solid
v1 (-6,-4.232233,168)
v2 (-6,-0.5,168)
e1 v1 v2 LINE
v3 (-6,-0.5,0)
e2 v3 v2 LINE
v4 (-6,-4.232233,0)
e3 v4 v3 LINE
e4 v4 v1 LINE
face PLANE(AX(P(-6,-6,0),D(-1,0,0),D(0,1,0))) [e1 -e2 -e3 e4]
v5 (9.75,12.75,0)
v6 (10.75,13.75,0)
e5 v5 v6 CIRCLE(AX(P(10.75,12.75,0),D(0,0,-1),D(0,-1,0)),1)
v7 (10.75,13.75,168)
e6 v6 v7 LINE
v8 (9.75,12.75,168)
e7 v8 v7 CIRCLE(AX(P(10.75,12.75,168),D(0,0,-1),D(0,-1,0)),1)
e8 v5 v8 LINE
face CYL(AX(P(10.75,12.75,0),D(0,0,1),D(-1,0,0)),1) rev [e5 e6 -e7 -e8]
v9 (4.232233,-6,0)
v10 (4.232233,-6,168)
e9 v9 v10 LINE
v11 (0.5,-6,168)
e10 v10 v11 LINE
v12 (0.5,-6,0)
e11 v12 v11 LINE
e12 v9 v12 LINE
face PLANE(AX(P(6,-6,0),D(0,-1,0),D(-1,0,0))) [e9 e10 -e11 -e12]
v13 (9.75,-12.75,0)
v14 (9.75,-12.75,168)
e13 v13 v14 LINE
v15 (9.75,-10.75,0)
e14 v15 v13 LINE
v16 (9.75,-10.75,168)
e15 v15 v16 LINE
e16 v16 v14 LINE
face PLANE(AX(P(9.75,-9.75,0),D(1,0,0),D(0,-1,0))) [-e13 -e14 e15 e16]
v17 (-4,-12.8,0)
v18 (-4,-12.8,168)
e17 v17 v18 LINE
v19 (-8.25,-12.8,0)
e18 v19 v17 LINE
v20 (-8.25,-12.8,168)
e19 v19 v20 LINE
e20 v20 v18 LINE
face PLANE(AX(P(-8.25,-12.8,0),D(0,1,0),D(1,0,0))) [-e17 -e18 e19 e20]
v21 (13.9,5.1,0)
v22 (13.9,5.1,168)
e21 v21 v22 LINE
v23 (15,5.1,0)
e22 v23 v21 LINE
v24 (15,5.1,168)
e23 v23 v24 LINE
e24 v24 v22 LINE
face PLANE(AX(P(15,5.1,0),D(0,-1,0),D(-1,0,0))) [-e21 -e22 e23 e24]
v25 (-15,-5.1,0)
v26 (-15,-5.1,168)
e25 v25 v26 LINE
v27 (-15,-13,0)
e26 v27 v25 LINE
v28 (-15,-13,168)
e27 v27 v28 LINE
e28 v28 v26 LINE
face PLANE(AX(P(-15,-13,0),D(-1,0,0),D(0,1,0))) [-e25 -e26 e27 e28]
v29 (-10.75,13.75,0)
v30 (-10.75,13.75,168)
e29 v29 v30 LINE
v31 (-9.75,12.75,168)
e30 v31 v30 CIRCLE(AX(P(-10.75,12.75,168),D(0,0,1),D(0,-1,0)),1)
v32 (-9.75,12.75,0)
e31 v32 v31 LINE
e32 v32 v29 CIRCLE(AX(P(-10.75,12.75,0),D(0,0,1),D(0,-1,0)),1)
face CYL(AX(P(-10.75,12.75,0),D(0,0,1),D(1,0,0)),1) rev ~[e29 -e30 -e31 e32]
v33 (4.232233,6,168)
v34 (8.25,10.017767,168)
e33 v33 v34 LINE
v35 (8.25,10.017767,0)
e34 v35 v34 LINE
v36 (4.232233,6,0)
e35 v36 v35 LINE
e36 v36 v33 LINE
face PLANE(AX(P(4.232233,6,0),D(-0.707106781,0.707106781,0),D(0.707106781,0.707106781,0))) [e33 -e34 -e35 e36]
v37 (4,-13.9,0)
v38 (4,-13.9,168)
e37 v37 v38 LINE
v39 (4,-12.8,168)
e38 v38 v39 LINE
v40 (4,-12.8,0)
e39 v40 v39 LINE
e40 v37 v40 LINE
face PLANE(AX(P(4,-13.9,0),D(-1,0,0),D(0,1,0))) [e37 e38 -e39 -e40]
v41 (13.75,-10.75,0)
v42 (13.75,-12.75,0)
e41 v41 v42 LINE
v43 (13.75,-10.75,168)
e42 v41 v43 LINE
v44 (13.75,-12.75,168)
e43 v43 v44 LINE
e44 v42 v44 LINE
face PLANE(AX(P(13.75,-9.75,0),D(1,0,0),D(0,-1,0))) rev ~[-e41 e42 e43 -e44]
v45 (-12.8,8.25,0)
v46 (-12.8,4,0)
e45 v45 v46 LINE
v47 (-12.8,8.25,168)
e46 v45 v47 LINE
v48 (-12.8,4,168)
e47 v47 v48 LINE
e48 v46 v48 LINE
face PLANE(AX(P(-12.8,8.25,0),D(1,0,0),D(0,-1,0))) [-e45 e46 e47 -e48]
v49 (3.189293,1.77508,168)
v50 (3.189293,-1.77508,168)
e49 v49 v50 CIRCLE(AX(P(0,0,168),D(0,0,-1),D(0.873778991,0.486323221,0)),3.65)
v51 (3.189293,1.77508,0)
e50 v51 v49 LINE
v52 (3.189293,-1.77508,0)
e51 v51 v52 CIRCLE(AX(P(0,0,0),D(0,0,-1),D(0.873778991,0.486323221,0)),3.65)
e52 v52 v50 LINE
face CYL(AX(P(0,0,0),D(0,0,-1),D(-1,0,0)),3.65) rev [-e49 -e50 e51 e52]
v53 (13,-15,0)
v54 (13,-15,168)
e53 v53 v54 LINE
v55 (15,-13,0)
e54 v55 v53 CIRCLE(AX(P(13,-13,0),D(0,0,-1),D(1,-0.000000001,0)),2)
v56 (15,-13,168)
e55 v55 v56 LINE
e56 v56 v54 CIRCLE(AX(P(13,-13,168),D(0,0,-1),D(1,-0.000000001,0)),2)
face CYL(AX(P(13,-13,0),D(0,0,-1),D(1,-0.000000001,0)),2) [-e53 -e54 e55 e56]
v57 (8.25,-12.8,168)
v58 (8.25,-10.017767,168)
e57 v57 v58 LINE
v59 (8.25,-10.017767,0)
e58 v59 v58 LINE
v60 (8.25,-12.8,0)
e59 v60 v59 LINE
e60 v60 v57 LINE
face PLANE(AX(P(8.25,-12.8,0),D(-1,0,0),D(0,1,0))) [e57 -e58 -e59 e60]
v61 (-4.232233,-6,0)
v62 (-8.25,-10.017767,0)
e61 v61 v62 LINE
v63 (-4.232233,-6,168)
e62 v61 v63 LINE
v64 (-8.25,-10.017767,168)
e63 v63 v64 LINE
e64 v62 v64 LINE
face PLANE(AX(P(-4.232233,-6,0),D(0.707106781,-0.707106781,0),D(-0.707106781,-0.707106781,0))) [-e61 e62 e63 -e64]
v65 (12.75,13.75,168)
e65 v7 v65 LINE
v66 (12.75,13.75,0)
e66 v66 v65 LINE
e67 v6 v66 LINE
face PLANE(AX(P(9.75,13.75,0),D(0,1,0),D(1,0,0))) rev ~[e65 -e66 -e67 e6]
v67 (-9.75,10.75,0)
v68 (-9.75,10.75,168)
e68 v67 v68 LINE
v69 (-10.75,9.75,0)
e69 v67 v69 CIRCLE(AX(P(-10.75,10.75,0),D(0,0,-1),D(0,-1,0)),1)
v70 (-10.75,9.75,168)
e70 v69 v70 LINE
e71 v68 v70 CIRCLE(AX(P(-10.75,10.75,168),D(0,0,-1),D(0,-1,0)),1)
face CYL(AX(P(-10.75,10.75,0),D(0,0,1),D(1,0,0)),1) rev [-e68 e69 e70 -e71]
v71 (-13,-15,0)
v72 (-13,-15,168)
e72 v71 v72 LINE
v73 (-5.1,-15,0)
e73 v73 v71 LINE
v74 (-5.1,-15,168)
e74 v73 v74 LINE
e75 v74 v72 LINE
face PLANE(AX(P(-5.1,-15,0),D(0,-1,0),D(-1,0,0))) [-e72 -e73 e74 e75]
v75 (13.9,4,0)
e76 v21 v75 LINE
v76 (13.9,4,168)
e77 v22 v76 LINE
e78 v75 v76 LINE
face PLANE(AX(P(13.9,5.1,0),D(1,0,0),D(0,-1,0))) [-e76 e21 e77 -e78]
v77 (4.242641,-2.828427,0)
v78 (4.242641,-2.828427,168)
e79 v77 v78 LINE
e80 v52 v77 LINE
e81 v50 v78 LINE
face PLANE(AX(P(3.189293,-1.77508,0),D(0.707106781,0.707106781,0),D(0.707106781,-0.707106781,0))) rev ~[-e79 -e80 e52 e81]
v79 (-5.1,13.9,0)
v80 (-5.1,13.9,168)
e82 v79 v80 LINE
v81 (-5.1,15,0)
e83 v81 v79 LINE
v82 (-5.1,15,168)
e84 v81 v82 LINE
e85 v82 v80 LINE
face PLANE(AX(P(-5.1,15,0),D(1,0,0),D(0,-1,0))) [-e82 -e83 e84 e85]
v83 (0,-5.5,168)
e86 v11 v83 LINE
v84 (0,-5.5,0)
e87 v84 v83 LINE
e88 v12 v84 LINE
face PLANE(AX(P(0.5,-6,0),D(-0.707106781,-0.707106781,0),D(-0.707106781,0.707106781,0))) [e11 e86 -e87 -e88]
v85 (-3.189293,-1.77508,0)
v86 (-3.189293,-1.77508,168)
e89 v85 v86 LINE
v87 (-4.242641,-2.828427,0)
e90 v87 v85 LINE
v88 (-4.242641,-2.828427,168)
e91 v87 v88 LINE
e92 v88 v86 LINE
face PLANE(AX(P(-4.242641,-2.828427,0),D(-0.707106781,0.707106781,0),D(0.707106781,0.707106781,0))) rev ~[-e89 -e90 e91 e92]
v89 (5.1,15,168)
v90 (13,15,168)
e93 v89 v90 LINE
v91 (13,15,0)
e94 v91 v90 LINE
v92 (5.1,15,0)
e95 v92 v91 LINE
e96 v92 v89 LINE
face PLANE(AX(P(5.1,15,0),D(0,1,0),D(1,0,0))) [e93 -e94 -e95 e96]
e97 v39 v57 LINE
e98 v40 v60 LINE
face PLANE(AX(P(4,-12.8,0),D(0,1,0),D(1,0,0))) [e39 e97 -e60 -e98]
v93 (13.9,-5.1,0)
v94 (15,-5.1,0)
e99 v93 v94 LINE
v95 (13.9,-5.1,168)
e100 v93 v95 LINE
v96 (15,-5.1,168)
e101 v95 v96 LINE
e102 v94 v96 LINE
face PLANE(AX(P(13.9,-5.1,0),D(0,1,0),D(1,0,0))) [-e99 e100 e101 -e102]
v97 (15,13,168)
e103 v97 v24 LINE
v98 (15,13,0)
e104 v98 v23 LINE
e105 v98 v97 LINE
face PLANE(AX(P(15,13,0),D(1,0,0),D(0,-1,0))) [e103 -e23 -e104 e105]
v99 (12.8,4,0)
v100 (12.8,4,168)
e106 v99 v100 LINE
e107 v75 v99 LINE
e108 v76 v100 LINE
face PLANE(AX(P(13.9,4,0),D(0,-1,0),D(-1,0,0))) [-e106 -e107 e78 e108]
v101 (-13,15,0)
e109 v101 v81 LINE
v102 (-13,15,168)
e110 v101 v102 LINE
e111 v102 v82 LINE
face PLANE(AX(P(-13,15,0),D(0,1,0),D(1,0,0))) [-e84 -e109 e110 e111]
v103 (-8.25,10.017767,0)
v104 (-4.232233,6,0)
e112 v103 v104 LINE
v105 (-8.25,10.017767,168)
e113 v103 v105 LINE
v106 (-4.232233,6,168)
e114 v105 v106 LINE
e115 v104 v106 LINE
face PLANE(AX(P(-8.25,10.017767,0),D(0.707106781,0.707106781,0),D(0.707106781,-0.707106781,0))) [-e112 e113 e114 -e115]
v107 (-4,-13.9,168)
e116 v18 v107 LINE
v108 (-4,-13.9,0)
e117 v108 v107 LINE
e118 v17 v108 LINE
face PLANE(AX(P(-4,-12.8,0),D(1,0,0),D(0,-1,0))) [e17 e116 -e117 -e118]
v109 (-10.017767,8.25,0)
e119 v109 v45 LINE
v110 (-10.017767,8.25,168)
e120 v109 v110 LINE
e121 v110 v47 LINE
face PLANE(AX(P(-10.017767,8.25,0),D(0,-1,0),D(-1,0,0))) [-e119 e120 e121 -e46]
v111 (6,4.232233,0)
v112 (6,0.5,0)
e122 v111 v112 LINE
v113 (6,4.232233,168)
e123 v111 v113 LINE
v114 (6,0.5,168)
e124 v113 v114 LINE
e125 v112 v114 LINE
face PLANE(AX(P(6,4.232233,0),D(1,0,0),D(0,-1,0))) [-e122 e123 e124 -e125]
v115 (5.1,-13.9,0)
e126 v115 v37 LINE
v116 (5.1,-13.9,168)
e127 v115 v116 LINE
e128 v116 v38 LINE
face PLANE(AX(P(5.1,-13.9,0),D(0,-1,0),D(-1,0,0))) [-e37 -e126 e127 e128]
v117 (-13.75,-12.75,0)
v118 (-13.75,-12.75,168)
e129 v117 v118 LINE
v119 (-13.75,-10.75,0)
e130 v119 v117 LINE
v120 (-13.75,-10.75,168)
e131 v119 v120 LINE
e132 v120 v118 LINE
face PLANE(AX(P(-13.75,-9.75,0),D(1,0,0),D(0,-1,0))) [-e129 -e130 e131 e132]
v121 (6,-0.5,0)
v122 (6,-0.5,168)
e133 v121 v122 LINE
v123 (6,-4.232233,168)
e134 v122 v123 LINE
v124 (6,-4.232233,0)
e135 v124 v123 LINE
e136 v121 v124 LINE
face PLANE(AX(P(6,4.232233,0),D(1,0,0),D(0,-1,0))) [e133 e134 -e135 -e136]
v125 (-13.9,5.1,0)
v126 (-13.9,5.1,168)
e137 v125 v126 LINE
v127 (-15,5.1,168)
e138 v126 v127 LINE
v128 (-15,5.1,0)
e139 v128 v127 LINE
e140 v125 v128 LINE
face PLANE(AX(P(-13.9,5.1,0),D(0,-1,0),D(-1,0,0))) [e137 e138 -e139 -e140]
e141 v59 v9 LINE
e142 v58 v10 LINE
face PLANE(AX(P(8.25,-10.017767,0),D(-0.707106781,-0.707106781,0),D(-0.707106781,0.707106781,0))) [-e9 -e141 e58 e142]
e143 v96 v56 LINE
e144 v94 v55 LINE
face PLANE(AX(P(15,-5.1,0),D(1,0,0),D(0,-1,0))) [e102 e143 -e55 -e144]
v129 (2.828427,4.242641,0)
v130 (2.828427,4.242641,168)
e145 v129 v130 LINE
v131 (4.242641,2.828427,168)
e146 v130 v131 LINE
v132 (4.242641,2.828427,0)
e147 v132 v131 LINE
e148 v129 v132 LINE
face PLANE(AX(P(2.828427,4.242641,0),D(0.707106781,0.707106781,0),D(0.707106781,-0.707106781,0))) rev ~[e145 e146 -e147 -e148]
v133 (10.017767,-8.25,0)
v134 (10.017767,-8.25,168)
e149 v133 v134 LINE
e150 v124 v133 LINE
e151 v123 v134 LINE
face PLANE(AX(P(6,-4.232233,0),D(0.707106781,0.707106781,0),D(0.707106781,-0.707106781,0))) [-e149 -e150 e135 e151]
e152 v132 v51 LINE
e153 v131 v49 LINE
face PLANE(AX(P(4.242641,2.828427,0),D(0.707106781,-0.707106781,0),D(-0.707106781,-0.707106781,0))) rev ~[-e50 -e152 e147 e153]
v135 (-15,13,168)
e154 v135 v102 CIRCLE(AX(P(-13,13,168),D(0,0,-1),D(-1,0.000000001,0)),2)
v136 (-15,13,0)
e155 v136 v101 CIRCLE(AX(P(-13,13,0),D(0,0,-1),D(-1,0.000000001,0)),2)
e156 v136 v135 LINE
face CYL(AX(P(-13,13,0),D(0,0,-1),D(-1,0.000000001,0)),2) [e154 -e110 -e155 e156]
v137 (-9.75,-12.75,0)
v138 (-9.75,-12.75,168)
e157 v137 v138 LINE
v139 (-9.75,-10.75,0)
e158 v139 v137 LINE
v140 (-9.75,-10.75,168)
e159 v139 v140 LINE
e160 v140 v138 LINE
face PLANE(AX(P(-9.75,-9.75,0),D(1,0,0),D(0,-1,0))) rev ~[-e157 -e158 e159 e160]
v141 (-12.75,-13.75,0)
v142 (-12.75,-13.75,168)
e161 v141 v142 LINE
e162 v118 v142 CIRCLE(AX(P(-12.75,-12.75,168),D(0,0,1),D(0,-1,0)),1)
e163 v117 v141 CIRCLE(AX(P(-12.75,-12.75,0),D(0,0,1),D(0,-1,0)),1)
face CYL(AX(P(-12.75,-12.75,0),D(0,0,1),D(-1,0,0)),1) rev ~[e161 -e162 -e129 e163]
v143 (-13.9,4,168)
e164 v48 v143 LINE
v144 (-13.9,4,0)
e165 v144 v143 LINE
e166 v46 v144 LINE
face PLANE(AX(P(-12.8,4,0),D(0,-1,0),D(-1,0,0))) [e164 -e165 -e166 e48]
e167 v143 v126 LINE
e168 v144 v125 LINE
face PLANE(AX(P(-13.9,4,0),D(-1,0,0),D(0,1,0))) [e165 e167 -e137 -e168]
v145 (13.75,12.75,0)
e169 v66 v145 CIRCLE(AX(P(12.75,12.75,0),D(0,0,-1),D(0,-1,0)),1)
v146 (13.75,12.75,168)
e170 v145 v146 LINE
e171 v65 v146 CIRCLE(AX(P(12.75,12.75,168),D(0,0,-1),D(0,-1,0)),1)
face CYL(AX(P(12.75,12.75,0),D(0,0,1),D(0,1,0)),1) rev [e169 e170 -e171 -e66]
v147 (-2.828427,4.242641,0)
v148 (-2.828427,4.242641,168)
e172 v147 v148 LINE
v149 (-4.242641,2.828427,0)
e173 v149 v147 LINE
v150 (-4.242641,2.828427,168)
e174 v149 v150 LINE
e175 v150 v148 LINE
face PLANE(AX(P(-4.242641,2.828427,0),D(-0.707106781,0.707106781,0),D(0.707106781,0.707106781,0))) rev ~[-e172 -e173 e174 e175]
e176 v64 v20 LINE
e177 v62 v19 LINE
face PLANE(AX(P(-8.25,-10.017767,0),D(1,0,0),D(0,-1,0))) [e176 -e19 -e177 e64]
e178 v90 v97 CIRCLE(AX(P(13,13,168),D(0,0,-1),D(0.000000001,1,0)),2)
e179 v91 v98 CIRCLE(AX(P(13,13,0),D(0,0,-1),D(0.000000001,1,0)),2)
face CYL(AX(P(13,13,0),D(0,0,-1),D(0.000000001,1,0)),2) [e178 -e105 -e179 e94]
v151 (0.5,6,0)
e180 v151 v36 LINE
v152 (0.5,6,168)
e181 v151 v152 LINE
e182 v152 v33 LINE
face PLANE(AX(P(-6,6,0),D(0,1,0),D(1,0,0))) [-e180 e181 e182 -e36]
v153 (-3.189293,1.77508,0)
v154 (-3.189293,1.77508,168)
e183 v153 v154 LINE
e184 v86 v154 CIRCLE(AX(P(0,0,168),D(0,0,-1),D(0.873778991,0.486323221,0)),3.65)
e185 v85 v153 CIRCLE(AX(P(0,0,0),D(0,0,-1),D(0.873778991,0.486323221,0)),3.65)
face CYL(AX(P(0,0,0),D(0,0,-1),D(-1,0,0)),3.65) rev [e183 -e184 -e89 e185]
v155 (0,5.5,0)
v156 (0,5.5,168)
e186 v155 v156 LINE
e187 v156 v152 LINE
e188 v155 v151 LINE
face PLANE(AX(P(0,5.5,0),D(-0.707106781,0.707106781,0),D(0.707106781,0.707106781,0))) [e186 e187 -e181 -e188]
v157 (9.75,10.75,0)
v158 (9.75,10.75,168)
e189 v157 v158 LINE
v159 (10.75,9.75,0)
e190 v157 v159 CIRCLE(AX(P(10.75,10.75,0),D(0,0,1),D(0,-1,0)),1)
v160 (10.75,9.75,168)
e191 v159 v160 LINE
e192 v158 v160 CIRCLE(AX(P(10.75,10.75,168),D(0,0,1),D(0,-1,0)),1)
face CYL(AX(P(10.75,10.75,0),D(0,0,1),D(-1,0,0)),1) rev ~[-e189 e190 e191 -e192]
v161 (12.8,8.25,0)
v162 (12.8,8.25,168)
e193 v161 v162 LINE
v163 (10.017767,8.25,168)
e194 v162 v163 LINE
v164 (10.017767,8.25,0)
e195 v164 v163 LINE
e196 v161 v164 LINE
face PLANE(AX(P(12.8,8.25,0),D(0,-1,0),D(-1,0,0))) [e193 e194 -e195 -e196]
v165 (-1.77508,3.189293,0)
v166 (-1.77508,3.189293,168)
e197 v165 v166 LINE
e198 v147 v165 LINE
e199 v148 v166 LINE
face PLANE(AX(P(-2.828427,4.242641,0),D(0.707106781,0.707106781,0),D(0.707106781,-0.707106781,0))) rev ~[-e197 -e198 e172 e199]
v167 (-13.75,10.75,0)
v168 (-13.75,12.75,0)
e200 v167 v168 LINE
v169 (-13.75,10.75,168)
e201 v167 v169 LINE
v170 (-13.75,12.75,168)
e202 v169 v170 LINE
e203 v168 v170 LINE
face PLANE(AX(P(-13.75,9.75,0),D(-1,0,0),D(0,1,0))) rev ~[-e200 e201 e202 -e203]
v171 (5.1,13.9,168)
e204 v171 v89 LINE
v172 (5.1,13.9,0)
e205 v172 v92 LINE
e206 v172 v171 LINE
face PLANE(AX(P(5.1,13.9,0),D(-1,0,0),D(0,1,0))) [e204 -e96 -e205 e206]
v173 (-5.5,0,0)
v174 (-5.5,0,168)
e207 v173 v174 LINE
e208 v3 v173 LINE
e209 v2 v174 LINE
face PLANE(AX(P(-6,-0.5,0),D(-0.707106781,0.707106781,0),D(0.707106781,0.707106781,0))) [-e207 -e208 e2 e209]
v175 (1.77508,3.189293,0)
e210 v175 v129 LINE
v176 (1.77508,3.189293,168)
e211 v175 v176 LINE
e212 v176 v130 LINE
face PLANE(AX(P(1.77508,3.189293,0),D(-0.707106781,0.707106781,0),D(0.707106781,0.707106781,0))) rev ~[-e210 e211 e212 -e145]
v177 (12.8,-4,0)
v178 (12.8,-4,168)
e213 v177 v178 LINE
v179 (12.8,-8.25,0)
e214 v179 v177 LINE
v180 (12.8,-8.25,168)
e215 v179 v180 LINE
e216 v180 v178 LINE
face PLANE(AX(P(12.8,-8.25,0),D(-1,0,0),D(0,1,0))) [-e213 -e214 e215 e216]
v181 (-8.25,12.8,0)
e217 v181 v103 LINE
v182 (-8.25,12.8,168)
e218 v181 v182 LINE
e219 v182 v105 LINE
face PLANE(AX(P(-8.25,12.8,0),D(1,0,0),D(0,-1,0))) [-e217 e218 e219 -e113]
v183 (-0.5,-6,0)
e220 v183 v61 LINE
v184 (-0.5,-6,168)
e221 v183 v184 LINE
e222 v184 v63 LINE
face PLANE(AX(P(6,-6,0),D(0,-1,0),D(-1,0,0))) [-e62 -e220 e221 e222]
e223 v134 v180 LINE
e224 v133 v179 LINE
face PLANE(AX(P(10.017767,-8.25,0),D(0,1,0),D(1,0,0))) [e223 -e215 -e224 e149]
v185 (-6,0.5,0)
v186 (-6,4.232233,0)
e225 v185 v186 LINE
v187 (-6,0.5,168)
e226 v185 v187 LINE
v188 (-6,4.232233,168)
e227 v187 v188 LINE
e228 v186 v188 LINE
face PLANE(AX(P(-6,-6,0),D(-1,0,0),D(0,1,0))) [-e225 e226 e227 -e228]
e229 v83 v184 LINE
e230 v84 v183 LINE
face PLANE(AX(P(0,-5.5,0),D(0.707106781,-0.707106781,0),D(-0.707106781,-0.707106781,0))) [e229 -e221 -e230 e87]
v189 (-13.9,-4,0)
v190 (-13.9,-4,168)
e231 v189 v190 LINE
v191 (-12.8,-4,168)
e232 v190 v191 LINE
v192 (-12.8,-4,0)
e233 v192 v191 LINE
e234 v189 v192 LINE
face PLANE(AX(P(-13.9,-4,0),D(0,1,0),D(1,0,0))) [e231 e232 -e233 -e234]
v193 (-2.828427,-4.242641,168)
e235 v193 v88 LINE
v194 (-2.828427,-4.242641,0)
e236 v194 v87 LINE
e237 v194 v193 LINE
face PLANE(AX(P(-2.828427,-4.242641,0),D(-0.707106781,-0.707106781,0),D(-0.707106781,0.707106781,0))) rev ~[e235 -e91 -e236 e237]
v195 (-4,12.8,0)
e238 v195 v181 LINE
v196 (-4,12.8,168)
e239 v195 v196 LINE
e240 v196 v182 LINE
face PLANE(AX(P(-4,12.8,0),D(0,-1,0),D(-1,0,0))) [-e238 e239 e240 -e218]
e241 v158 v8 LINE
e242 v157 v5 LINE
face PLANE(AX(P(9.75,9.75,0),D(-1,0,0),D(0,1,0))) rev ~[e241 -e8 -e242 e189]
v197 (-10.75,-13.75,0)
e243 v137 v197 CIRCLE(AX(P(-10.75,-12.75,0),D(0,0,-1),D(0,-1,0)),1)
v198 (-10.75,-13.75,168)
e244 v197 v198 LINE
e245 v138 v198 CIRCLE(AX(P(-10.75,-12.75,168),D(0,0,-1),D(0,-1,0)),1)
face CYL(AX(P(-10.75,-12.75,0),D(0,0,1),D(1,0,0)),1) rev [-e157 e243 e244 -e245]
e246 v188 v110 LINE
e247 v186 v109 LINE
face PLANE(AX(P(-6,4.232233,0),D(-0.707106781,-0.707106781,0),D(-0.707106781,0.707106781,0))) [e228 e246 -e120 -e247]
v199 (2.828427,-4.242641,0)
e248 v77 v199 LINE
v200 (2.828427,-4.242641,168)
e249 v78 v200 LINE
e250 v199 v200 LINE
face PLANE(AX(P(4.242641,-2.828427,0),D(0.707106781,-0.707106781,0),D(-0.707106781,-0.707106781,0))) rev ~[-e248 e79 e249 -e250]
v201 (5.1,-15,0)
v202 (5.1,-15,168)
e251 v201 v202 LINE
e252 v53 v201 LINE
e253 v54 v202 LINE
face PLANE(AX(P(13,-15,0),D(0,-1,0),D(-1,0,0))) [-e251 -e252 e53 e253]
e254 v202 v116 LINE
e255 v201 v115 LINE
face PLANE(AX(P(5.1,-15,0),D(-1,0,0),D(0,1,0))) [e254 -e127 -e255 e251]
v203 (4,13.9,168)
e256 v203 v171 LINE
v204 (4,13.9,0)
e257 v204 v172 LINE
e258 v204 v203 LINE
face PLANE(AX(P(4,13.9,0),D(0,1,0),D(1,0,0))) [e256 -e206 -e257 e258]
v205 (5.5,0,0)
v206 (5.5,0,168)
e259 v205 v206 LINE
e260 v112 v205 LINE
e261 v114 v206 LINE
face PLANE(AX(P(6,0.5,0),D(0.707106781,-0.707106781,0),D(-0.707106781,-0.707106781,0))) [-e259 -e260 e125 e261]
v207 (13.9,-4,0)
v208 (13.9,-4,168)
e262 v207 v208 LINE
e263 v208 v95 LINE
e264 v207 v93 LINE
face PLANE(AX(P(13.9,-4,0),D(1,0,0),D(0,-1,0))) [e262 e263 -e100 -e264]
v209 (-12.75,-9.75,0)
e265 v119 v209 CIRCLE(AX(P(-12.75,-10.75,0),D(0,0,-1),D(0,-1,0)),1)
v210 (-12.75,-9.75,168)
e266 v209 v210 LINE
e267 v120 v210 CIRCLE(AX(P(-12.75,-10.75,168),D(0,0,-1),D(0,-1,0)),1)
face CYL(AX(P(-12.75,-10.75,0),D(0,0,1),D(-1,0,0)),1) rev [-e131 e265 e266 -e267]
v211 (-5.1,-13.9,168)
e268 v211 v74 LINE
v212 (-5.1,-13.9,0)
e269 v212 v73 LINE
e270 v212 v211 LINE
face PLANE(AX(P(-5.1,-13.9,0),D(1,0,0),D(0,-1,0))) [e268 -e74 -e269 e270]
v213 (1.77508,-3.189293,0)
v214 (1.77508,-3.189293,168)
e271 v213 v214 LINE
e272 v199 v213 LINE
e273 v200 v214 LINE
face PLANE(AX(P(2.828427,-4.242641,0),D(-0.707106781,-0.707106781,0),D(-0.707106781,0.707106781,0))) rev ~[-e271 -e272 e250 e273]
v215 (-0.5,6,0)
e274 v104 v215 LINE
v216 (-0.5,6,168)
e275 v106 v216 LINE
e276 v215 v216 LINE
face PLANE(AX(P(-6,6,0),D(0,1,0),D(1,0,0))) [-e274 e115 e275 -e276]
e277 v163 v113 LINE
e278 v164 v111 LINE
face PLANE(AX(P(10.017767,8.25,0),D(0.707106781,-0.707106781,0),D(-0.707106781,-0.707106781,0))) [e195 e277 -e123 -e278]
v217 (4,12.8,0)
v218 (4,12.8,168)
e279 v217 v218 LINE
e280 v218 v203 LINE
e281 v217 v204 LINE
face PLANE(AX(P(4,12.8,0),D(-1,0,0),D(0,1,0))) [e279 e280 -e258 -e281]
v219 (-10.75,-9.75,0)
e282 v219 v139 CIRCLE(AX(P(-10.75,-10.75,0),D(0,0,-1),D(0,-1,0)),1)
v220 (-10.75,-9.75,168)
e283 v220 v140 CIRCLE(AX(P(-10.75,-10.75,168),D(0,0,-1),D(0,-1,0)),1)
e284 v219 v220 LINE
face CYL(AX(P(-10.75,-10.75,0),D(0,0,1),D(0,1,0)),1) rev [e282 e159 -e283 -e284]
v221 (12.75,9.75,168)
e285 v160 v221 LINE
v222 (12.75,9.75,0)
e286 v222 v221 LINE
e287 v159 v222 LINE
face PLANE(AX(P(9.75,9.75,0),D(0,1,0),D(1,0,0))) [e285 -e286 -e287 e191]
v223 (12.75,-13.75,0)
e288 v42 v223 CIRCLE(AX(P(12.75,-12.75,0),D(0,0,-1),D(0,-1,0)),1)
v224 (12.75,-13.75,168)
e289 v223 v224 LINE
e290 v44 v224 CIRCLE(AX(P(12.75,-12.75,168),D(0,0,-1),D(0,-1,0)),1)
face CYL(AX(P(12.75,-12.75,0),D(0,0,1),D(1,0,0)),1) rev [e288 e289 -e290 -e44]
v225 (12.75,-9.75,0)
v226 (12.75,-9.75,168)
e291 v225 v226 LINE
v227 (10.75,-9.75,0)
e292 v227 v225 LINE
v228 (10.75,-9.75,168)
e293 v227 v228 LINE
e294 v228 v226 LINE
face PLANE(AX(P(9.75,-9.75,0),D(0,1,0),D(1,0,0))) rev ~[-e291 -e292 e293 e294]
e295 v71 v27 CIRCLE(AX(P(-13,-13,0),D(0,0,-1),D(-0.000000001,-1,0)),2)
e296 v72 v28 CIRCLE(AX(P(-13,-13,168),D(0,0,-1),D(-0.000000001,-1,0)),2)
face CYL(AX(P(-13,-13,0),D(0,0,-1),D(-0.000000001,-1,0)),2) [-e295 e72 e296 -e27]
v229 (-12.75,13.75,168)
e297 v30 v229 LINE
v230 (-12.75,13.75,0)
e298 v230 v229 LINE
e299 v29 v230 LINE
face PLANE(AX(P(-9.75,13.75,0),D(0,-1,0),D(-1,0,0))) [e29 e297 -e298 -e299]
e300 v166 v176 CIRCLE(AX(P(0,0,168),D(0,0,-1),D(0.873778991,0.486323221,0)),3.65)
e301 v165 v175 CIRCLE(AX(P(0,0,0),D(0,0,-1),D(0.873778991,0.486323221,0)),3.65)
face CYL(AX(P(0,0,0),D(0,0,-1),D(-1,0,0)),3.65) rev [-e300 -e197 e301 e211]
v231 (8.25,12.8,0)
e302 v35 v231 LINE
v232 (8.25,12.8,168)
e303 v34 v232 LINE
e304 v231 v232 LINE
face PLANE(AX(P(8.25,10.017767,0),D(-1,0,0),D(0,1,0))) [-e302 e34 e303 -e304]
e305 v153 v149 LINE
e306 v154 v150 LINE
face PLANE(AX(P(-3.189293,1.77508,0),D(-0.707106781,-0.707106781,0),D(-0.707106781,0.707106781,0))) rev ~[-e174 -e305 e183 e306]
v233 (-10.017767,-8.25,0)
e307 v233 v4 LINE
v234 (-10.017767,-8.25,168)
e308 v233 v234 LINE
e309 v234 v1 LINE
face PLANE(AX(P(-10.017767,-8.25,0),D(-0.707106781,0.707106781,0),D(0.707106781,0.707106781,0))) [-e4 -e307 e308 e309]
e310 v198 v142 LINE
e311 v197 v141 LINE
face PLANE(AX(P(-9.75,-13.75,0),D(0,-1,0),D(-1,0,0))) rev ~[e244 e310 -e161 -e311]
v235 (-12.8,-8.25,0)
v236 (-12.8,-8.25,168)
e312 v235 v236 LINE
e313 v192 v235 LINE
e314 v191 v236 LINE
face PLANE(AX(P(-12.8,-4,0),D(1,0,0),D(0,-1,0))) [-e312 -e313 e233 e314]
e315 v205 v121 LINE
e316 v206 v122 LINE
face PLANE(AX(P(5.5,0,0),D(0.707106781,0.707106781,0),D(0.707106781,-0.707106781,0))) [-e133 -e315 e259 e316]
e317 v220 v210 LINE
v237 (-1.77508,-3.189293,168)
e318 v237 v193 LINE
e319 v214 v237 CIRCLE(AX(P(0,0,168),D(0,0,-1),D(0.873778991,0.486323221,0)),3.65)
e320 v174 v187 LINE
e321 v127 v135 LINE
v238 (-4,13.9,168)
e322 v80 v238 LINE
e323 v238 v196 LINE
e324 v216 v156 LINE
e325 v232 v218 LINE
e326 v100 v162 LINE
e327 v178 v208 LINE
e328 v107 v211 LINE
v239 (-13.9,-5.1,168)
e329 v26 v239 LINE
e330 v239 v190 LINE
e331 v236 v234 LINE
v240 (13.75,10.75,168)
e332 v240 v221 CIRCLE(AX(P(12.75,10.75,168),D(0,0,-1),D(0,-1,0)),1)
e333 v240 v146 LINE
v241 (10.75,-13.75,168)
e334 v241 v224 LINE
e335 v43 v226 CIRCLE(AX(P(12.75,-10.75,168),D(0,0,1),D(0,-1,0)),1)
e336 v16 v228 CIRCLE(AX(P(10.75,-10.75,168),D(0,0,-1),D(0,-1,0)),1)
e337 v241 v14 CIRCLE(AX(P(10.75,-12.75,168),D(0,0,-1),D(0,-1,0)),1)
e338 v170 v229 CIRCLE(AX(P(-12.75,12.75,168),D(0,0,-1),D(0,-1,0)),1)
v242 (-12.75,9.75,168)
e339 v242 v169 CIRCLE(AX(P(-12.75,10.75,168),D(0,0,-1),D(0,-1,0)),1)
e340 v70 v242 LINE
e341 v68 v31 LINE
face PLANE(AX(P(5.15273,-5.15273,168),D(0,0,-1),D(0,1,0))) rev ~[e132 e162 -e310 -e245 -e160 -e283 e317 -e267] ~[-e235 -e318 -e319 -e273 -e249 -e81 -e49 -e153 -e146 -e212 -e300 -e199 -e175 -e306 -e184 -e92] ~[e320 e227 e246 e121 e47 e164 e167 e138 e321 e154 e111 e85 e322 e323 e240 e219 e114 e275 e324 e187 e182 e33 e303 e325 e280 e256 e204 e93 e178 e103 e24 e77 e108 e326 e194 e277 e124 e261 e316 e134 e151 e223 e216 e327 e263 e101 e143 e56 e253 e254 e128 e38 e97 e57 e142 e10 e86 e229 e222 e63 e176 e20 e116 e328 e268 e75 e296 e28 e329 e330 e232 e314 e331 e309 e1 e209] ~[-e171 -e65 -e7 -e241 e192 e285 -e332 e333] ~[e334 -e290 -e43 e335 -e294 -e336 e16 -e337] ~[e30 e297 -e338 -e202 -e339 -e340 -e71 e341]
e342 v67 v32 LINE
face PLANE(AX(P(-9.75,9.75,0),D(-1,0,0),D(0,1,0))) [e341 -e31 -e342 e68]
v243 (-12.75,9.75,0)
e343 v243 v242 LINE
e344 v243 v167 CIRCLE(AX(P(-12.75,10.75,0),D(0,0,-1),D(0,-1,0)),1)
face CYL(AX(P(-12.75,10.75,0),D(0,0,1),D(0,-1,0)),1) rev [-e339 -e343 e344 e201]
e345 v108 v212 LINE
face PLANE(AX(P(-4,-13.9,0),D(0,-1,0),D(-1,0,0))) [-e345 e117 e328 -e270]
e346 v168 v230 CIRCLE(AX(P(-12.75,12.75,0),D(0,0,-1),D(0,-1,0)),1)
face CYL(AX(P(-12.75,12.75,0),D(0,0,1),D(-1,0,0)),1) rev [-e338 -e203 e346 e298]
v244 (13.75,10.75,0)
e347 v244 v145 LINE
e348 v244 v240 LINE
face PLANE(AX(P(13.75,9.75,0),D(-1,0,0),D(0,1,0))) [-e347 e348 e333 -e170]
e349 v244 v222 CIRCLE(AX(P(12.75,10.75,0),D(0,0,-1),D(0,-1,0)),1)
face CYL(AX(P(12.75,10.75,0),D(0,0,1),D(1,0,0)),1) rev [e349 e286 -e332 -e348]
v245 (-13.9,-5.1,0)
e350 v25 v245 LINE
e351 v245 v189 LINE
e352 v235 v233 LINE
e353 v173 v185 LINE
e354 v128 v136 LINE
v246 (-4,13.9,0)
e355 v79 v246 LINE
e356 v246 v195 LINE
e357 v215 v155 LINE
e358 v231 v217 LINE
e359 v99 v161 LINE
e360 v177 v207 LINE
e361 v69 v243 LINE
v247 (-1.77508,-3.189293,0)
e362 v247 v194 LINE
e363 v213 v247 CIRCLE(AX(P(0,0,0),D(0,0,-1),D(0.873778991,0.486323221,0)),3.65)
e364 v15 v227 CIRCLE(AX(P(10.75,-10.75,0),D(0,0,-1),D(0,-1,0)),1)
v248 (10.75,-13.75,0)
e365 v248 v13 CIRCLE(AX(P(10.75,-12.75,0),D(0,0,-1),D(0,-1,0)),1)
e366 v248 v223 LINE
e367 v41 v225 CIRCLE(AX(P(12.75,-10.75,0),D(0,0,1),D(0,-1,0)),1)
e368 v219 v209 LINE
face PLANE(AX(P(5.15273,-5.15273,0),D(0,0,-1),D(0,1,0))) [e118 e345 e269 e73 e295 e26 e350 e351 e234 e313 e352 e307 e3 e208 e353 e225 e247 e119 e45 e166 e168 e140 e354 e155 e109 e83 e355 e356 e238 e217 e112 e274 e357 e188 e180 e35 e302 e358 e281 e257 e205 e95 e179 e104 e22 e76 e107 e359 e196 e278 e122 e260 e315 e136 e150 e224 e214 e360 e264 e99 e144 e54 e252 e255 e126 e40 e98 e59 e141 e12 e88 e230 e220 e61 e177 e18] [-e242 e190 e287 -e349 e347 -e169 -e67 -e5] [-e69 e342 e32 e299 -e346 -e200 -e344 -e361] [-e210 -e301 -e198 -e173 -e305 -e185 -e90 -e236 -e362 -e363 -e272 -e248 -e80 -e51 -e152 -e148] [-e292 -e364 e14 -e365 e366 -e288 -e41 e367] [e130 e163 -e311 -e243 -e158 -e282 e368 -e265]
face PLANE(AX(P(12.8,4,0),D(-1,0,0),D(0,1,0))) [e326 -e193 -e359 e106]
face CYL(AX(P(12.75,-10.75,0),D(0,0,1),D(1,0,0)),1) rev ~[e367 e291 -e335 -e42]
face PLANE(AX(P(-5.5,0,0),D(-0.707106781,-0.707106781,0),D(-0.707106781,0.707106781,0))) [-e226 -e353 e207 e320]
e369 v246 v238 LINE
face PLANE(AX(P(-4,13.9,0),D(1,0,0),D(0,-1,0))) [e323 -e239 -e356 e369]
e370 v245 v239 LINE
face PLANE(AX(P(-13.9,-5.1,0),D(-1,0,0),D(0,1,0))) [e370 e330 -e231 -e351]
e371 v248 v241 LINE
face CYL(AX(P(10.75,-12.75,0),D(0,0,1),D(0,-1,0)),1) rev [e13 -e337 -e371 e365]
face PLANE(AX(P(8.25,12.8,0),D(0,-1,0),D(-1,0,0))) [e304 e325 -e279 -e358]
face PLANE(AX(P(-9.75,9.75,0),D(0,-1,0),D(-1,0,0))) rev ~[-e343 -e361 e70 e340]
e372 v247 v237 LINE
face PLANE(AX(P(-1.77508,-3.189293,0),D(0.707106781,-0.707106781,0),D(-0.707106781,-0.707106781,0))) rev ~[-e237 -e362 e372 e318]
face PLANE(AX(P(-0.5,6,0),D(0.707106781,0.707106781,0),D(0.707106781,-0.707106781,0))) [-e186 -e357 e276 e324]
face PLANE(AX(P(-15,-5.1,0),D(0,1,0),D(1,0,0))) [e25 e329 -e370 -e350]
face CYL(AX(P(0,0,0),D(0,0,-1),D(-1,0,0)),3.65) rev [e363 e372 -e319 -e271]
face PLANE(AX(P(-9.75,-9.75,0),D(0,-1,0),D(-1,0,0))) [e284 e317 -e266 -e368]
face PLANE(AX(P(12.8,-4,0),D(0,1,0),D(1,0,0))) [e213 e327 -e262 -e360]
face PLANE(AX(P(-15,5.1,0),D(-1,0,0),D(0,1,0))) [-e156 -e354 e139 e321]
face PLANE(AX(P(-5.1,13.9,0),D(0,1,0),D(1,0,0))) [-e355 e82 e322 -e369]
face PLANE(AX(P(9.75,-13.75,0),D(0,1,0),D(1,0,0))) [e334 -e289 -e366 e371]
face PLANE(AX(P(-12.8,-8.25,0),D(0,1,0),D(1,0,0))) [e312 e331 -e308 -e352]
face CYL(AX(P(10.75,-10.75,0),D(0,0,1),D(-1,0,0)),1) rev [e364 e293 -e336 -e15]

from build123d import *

# Parameters (mm, degrees)
SKETCH1_R                = 3.65
SKETCH1_W                = 4
SKETCH1_H                = 4
BOSS_EXTRUDE1_DEPTH      = 168
FILLET1_R                = 1
CIRPATTERN1_COUNT        = 4
FILLET1_OF_CIRPATTERN1_R = 1
CUT_EXTRUDE1_DEPTH       = 170.3339895
CUT_EXTRUDE2_DEPTH       = 170.3339895
CIRPATTERN2_COUNT        = 4


with BuildPart() as part:
    # Sketch1 → Boss-Extrude1 (new body)
    with BuildSketch(Plane.XY):
        with BuildLine():
            Line((5.1, 15), (13, 15))
            ThreePointArc((13, 15), (14.414213562, 14.414213562), (15, 13))
            Line((15, 13), (15, 5.1))
            Line((15, 5.1), (13.9, 5.1))
            Line((13.9, 5.1), (13.9, 4))
            Line((13.9, 4), (12.8, 4))
            Line((12.8, 4), (12.8, 8.25))
            Line((12.8, 8.25), (10.017766953, 8.25))
            Line((10.017766953, 8.25), (6, 4.232233047))
            Line((6, 4.232233047), (6, -6))
            Line((6, -6), (-6, -6))
            Line((-6, -6), (-6, 6))
            Line((-6, 6), (4.232233047, 6))
            Line((4.232233047, 6), (8.25, 10.017766953))
            Line((8.25, 10.017766953), (8.25, 12.8))
            Line((8.25, 12.8), (4, 12.8))
            Line((4, 12.8), (4, 13.9))
            Line((4, 13.9), (5.1, 13.9))
            Line((5.1, 13.9), (5.1, 15))
        make_face()
        with Locations(Location((0, 0, 0), (0, 0, 180))):
            Circle(SKETCH1_R, mode=Mode.SUBTRACT)
        with Locations((11.75, 11.75)):
            Rectangle(SKETCH1_W, SKETCH1_H, mode=Mode.SUBTRACT)
    boss_extrude1 = extrude(amount=BOSS_EXTRUDE1_DEPTH)

    # Fillet1
    fillet1_edges = [part.edges().sort_by_distance(p)[0] for p in [
        (9.75, 13.75, 84),
        (9.75, 9.75, 84),
        (13.75, 9.75, 84),
        (13.75, 13.75, 84),
    ]]
    fillet(fillet1_edges, radius=FILLET1_R)

    # CirPattern1: Boss-Extrude1 ×4 about axis
    cirpattern1_axis = Axis((0, 0, 0), (0, 0, 1))
    for i in range(1, CIRPATTERN1_COUNT):
        add(boss_extrude1.rotate(cirpattern1_axis, i * 360 / CIRPATTERN1_COUNT))

    # Fillet1 of CirPattern1
    fillet1_of_cirpattern1_edges = [part.edges().sort_by_distance(p)[0] for p in [
        (-13.75, 9.75, 84),
        (-9.75, 9.75, 84),
        (-9.75, 13.75, 84),
        (-13.75, 13.75, 84),
        (-9.75, -13.75, 84),
        (-9.75, -9.75, 84),
        (-13.75, -9.75, 84),
        (-13.75, -13.75, 84),
        (13.75, -9.75, 84),
        (9.75, -9.75, 84),
        (9.75, -13.75, 84),
        (13.75, -13.75, 84),
    ]]
    fillet(fillet1_of_cirpattern1_edges, radius=FILLET1_OF_CIRPATTERN1_R)

    # Sketch2 → Cut-Extrude1 (cut, through all)
    with BuildSketch(Plane(origin=(0, 0, 0), x_dir=(-1, 0, 0), z_dir=(0, 0, -1))):
        Polygon((0, 5.5), (-0.5, 6), (0.5, 6), align=None)
    cut_extrude1 = extrude(amount=-CUT_EXTRUDE1_DEPTH, mode=Mode.SUBTRACT)

    # Sketch3 → Cut-Extrude2 (cut, through all)
    with BuildSketch(Plane(origin=(0, 0, 0), x_dir=(-1, 0, 0), z_dir=(0, 0, -1))):
        with BuildLine():
            Line((-1.775079755, 3.189293317), (-2.828427125, 4.242640687))
            Line((-2.828427125, 4.242640687), (-4.242640687, 2.828427125))
            Line((-4.242640687, 2.828427125), (-3.189293317, 1.775079755))
            ThreePointArc((-3.189293317, 1.775079755), (-2.580939751, 2.580939751), (-1.775079755, 3.189293317))
        make_face()
    cut_extrude2 = extrude(amount=-CUT_EXTRUDE2_DEPTH, mode=Mode.SUBTRACT)

    # CirPattern2: Cut-Extrude1, Cut-Extrude2 ×4 about axis
    cirpattern2_axis = Axis((0, 0, 0), (0, 0, 1))
    add([cut_extrude1.rotate(cirpattern2_axis, i * 360 / CIRPATTERN2_COUNT) for i in range(1, CIRPATTERN2_COUNT)], mode=Mode.SUBTRACT)
    add([cut_extrude2.rotate(cirpattern2_axis, i * 360 / CIRPATTERN2_COUNT) for i in range(1, CIRPATTERN2_COUNT)], mode=Mode.SUBTRACT)


solid = part.part
